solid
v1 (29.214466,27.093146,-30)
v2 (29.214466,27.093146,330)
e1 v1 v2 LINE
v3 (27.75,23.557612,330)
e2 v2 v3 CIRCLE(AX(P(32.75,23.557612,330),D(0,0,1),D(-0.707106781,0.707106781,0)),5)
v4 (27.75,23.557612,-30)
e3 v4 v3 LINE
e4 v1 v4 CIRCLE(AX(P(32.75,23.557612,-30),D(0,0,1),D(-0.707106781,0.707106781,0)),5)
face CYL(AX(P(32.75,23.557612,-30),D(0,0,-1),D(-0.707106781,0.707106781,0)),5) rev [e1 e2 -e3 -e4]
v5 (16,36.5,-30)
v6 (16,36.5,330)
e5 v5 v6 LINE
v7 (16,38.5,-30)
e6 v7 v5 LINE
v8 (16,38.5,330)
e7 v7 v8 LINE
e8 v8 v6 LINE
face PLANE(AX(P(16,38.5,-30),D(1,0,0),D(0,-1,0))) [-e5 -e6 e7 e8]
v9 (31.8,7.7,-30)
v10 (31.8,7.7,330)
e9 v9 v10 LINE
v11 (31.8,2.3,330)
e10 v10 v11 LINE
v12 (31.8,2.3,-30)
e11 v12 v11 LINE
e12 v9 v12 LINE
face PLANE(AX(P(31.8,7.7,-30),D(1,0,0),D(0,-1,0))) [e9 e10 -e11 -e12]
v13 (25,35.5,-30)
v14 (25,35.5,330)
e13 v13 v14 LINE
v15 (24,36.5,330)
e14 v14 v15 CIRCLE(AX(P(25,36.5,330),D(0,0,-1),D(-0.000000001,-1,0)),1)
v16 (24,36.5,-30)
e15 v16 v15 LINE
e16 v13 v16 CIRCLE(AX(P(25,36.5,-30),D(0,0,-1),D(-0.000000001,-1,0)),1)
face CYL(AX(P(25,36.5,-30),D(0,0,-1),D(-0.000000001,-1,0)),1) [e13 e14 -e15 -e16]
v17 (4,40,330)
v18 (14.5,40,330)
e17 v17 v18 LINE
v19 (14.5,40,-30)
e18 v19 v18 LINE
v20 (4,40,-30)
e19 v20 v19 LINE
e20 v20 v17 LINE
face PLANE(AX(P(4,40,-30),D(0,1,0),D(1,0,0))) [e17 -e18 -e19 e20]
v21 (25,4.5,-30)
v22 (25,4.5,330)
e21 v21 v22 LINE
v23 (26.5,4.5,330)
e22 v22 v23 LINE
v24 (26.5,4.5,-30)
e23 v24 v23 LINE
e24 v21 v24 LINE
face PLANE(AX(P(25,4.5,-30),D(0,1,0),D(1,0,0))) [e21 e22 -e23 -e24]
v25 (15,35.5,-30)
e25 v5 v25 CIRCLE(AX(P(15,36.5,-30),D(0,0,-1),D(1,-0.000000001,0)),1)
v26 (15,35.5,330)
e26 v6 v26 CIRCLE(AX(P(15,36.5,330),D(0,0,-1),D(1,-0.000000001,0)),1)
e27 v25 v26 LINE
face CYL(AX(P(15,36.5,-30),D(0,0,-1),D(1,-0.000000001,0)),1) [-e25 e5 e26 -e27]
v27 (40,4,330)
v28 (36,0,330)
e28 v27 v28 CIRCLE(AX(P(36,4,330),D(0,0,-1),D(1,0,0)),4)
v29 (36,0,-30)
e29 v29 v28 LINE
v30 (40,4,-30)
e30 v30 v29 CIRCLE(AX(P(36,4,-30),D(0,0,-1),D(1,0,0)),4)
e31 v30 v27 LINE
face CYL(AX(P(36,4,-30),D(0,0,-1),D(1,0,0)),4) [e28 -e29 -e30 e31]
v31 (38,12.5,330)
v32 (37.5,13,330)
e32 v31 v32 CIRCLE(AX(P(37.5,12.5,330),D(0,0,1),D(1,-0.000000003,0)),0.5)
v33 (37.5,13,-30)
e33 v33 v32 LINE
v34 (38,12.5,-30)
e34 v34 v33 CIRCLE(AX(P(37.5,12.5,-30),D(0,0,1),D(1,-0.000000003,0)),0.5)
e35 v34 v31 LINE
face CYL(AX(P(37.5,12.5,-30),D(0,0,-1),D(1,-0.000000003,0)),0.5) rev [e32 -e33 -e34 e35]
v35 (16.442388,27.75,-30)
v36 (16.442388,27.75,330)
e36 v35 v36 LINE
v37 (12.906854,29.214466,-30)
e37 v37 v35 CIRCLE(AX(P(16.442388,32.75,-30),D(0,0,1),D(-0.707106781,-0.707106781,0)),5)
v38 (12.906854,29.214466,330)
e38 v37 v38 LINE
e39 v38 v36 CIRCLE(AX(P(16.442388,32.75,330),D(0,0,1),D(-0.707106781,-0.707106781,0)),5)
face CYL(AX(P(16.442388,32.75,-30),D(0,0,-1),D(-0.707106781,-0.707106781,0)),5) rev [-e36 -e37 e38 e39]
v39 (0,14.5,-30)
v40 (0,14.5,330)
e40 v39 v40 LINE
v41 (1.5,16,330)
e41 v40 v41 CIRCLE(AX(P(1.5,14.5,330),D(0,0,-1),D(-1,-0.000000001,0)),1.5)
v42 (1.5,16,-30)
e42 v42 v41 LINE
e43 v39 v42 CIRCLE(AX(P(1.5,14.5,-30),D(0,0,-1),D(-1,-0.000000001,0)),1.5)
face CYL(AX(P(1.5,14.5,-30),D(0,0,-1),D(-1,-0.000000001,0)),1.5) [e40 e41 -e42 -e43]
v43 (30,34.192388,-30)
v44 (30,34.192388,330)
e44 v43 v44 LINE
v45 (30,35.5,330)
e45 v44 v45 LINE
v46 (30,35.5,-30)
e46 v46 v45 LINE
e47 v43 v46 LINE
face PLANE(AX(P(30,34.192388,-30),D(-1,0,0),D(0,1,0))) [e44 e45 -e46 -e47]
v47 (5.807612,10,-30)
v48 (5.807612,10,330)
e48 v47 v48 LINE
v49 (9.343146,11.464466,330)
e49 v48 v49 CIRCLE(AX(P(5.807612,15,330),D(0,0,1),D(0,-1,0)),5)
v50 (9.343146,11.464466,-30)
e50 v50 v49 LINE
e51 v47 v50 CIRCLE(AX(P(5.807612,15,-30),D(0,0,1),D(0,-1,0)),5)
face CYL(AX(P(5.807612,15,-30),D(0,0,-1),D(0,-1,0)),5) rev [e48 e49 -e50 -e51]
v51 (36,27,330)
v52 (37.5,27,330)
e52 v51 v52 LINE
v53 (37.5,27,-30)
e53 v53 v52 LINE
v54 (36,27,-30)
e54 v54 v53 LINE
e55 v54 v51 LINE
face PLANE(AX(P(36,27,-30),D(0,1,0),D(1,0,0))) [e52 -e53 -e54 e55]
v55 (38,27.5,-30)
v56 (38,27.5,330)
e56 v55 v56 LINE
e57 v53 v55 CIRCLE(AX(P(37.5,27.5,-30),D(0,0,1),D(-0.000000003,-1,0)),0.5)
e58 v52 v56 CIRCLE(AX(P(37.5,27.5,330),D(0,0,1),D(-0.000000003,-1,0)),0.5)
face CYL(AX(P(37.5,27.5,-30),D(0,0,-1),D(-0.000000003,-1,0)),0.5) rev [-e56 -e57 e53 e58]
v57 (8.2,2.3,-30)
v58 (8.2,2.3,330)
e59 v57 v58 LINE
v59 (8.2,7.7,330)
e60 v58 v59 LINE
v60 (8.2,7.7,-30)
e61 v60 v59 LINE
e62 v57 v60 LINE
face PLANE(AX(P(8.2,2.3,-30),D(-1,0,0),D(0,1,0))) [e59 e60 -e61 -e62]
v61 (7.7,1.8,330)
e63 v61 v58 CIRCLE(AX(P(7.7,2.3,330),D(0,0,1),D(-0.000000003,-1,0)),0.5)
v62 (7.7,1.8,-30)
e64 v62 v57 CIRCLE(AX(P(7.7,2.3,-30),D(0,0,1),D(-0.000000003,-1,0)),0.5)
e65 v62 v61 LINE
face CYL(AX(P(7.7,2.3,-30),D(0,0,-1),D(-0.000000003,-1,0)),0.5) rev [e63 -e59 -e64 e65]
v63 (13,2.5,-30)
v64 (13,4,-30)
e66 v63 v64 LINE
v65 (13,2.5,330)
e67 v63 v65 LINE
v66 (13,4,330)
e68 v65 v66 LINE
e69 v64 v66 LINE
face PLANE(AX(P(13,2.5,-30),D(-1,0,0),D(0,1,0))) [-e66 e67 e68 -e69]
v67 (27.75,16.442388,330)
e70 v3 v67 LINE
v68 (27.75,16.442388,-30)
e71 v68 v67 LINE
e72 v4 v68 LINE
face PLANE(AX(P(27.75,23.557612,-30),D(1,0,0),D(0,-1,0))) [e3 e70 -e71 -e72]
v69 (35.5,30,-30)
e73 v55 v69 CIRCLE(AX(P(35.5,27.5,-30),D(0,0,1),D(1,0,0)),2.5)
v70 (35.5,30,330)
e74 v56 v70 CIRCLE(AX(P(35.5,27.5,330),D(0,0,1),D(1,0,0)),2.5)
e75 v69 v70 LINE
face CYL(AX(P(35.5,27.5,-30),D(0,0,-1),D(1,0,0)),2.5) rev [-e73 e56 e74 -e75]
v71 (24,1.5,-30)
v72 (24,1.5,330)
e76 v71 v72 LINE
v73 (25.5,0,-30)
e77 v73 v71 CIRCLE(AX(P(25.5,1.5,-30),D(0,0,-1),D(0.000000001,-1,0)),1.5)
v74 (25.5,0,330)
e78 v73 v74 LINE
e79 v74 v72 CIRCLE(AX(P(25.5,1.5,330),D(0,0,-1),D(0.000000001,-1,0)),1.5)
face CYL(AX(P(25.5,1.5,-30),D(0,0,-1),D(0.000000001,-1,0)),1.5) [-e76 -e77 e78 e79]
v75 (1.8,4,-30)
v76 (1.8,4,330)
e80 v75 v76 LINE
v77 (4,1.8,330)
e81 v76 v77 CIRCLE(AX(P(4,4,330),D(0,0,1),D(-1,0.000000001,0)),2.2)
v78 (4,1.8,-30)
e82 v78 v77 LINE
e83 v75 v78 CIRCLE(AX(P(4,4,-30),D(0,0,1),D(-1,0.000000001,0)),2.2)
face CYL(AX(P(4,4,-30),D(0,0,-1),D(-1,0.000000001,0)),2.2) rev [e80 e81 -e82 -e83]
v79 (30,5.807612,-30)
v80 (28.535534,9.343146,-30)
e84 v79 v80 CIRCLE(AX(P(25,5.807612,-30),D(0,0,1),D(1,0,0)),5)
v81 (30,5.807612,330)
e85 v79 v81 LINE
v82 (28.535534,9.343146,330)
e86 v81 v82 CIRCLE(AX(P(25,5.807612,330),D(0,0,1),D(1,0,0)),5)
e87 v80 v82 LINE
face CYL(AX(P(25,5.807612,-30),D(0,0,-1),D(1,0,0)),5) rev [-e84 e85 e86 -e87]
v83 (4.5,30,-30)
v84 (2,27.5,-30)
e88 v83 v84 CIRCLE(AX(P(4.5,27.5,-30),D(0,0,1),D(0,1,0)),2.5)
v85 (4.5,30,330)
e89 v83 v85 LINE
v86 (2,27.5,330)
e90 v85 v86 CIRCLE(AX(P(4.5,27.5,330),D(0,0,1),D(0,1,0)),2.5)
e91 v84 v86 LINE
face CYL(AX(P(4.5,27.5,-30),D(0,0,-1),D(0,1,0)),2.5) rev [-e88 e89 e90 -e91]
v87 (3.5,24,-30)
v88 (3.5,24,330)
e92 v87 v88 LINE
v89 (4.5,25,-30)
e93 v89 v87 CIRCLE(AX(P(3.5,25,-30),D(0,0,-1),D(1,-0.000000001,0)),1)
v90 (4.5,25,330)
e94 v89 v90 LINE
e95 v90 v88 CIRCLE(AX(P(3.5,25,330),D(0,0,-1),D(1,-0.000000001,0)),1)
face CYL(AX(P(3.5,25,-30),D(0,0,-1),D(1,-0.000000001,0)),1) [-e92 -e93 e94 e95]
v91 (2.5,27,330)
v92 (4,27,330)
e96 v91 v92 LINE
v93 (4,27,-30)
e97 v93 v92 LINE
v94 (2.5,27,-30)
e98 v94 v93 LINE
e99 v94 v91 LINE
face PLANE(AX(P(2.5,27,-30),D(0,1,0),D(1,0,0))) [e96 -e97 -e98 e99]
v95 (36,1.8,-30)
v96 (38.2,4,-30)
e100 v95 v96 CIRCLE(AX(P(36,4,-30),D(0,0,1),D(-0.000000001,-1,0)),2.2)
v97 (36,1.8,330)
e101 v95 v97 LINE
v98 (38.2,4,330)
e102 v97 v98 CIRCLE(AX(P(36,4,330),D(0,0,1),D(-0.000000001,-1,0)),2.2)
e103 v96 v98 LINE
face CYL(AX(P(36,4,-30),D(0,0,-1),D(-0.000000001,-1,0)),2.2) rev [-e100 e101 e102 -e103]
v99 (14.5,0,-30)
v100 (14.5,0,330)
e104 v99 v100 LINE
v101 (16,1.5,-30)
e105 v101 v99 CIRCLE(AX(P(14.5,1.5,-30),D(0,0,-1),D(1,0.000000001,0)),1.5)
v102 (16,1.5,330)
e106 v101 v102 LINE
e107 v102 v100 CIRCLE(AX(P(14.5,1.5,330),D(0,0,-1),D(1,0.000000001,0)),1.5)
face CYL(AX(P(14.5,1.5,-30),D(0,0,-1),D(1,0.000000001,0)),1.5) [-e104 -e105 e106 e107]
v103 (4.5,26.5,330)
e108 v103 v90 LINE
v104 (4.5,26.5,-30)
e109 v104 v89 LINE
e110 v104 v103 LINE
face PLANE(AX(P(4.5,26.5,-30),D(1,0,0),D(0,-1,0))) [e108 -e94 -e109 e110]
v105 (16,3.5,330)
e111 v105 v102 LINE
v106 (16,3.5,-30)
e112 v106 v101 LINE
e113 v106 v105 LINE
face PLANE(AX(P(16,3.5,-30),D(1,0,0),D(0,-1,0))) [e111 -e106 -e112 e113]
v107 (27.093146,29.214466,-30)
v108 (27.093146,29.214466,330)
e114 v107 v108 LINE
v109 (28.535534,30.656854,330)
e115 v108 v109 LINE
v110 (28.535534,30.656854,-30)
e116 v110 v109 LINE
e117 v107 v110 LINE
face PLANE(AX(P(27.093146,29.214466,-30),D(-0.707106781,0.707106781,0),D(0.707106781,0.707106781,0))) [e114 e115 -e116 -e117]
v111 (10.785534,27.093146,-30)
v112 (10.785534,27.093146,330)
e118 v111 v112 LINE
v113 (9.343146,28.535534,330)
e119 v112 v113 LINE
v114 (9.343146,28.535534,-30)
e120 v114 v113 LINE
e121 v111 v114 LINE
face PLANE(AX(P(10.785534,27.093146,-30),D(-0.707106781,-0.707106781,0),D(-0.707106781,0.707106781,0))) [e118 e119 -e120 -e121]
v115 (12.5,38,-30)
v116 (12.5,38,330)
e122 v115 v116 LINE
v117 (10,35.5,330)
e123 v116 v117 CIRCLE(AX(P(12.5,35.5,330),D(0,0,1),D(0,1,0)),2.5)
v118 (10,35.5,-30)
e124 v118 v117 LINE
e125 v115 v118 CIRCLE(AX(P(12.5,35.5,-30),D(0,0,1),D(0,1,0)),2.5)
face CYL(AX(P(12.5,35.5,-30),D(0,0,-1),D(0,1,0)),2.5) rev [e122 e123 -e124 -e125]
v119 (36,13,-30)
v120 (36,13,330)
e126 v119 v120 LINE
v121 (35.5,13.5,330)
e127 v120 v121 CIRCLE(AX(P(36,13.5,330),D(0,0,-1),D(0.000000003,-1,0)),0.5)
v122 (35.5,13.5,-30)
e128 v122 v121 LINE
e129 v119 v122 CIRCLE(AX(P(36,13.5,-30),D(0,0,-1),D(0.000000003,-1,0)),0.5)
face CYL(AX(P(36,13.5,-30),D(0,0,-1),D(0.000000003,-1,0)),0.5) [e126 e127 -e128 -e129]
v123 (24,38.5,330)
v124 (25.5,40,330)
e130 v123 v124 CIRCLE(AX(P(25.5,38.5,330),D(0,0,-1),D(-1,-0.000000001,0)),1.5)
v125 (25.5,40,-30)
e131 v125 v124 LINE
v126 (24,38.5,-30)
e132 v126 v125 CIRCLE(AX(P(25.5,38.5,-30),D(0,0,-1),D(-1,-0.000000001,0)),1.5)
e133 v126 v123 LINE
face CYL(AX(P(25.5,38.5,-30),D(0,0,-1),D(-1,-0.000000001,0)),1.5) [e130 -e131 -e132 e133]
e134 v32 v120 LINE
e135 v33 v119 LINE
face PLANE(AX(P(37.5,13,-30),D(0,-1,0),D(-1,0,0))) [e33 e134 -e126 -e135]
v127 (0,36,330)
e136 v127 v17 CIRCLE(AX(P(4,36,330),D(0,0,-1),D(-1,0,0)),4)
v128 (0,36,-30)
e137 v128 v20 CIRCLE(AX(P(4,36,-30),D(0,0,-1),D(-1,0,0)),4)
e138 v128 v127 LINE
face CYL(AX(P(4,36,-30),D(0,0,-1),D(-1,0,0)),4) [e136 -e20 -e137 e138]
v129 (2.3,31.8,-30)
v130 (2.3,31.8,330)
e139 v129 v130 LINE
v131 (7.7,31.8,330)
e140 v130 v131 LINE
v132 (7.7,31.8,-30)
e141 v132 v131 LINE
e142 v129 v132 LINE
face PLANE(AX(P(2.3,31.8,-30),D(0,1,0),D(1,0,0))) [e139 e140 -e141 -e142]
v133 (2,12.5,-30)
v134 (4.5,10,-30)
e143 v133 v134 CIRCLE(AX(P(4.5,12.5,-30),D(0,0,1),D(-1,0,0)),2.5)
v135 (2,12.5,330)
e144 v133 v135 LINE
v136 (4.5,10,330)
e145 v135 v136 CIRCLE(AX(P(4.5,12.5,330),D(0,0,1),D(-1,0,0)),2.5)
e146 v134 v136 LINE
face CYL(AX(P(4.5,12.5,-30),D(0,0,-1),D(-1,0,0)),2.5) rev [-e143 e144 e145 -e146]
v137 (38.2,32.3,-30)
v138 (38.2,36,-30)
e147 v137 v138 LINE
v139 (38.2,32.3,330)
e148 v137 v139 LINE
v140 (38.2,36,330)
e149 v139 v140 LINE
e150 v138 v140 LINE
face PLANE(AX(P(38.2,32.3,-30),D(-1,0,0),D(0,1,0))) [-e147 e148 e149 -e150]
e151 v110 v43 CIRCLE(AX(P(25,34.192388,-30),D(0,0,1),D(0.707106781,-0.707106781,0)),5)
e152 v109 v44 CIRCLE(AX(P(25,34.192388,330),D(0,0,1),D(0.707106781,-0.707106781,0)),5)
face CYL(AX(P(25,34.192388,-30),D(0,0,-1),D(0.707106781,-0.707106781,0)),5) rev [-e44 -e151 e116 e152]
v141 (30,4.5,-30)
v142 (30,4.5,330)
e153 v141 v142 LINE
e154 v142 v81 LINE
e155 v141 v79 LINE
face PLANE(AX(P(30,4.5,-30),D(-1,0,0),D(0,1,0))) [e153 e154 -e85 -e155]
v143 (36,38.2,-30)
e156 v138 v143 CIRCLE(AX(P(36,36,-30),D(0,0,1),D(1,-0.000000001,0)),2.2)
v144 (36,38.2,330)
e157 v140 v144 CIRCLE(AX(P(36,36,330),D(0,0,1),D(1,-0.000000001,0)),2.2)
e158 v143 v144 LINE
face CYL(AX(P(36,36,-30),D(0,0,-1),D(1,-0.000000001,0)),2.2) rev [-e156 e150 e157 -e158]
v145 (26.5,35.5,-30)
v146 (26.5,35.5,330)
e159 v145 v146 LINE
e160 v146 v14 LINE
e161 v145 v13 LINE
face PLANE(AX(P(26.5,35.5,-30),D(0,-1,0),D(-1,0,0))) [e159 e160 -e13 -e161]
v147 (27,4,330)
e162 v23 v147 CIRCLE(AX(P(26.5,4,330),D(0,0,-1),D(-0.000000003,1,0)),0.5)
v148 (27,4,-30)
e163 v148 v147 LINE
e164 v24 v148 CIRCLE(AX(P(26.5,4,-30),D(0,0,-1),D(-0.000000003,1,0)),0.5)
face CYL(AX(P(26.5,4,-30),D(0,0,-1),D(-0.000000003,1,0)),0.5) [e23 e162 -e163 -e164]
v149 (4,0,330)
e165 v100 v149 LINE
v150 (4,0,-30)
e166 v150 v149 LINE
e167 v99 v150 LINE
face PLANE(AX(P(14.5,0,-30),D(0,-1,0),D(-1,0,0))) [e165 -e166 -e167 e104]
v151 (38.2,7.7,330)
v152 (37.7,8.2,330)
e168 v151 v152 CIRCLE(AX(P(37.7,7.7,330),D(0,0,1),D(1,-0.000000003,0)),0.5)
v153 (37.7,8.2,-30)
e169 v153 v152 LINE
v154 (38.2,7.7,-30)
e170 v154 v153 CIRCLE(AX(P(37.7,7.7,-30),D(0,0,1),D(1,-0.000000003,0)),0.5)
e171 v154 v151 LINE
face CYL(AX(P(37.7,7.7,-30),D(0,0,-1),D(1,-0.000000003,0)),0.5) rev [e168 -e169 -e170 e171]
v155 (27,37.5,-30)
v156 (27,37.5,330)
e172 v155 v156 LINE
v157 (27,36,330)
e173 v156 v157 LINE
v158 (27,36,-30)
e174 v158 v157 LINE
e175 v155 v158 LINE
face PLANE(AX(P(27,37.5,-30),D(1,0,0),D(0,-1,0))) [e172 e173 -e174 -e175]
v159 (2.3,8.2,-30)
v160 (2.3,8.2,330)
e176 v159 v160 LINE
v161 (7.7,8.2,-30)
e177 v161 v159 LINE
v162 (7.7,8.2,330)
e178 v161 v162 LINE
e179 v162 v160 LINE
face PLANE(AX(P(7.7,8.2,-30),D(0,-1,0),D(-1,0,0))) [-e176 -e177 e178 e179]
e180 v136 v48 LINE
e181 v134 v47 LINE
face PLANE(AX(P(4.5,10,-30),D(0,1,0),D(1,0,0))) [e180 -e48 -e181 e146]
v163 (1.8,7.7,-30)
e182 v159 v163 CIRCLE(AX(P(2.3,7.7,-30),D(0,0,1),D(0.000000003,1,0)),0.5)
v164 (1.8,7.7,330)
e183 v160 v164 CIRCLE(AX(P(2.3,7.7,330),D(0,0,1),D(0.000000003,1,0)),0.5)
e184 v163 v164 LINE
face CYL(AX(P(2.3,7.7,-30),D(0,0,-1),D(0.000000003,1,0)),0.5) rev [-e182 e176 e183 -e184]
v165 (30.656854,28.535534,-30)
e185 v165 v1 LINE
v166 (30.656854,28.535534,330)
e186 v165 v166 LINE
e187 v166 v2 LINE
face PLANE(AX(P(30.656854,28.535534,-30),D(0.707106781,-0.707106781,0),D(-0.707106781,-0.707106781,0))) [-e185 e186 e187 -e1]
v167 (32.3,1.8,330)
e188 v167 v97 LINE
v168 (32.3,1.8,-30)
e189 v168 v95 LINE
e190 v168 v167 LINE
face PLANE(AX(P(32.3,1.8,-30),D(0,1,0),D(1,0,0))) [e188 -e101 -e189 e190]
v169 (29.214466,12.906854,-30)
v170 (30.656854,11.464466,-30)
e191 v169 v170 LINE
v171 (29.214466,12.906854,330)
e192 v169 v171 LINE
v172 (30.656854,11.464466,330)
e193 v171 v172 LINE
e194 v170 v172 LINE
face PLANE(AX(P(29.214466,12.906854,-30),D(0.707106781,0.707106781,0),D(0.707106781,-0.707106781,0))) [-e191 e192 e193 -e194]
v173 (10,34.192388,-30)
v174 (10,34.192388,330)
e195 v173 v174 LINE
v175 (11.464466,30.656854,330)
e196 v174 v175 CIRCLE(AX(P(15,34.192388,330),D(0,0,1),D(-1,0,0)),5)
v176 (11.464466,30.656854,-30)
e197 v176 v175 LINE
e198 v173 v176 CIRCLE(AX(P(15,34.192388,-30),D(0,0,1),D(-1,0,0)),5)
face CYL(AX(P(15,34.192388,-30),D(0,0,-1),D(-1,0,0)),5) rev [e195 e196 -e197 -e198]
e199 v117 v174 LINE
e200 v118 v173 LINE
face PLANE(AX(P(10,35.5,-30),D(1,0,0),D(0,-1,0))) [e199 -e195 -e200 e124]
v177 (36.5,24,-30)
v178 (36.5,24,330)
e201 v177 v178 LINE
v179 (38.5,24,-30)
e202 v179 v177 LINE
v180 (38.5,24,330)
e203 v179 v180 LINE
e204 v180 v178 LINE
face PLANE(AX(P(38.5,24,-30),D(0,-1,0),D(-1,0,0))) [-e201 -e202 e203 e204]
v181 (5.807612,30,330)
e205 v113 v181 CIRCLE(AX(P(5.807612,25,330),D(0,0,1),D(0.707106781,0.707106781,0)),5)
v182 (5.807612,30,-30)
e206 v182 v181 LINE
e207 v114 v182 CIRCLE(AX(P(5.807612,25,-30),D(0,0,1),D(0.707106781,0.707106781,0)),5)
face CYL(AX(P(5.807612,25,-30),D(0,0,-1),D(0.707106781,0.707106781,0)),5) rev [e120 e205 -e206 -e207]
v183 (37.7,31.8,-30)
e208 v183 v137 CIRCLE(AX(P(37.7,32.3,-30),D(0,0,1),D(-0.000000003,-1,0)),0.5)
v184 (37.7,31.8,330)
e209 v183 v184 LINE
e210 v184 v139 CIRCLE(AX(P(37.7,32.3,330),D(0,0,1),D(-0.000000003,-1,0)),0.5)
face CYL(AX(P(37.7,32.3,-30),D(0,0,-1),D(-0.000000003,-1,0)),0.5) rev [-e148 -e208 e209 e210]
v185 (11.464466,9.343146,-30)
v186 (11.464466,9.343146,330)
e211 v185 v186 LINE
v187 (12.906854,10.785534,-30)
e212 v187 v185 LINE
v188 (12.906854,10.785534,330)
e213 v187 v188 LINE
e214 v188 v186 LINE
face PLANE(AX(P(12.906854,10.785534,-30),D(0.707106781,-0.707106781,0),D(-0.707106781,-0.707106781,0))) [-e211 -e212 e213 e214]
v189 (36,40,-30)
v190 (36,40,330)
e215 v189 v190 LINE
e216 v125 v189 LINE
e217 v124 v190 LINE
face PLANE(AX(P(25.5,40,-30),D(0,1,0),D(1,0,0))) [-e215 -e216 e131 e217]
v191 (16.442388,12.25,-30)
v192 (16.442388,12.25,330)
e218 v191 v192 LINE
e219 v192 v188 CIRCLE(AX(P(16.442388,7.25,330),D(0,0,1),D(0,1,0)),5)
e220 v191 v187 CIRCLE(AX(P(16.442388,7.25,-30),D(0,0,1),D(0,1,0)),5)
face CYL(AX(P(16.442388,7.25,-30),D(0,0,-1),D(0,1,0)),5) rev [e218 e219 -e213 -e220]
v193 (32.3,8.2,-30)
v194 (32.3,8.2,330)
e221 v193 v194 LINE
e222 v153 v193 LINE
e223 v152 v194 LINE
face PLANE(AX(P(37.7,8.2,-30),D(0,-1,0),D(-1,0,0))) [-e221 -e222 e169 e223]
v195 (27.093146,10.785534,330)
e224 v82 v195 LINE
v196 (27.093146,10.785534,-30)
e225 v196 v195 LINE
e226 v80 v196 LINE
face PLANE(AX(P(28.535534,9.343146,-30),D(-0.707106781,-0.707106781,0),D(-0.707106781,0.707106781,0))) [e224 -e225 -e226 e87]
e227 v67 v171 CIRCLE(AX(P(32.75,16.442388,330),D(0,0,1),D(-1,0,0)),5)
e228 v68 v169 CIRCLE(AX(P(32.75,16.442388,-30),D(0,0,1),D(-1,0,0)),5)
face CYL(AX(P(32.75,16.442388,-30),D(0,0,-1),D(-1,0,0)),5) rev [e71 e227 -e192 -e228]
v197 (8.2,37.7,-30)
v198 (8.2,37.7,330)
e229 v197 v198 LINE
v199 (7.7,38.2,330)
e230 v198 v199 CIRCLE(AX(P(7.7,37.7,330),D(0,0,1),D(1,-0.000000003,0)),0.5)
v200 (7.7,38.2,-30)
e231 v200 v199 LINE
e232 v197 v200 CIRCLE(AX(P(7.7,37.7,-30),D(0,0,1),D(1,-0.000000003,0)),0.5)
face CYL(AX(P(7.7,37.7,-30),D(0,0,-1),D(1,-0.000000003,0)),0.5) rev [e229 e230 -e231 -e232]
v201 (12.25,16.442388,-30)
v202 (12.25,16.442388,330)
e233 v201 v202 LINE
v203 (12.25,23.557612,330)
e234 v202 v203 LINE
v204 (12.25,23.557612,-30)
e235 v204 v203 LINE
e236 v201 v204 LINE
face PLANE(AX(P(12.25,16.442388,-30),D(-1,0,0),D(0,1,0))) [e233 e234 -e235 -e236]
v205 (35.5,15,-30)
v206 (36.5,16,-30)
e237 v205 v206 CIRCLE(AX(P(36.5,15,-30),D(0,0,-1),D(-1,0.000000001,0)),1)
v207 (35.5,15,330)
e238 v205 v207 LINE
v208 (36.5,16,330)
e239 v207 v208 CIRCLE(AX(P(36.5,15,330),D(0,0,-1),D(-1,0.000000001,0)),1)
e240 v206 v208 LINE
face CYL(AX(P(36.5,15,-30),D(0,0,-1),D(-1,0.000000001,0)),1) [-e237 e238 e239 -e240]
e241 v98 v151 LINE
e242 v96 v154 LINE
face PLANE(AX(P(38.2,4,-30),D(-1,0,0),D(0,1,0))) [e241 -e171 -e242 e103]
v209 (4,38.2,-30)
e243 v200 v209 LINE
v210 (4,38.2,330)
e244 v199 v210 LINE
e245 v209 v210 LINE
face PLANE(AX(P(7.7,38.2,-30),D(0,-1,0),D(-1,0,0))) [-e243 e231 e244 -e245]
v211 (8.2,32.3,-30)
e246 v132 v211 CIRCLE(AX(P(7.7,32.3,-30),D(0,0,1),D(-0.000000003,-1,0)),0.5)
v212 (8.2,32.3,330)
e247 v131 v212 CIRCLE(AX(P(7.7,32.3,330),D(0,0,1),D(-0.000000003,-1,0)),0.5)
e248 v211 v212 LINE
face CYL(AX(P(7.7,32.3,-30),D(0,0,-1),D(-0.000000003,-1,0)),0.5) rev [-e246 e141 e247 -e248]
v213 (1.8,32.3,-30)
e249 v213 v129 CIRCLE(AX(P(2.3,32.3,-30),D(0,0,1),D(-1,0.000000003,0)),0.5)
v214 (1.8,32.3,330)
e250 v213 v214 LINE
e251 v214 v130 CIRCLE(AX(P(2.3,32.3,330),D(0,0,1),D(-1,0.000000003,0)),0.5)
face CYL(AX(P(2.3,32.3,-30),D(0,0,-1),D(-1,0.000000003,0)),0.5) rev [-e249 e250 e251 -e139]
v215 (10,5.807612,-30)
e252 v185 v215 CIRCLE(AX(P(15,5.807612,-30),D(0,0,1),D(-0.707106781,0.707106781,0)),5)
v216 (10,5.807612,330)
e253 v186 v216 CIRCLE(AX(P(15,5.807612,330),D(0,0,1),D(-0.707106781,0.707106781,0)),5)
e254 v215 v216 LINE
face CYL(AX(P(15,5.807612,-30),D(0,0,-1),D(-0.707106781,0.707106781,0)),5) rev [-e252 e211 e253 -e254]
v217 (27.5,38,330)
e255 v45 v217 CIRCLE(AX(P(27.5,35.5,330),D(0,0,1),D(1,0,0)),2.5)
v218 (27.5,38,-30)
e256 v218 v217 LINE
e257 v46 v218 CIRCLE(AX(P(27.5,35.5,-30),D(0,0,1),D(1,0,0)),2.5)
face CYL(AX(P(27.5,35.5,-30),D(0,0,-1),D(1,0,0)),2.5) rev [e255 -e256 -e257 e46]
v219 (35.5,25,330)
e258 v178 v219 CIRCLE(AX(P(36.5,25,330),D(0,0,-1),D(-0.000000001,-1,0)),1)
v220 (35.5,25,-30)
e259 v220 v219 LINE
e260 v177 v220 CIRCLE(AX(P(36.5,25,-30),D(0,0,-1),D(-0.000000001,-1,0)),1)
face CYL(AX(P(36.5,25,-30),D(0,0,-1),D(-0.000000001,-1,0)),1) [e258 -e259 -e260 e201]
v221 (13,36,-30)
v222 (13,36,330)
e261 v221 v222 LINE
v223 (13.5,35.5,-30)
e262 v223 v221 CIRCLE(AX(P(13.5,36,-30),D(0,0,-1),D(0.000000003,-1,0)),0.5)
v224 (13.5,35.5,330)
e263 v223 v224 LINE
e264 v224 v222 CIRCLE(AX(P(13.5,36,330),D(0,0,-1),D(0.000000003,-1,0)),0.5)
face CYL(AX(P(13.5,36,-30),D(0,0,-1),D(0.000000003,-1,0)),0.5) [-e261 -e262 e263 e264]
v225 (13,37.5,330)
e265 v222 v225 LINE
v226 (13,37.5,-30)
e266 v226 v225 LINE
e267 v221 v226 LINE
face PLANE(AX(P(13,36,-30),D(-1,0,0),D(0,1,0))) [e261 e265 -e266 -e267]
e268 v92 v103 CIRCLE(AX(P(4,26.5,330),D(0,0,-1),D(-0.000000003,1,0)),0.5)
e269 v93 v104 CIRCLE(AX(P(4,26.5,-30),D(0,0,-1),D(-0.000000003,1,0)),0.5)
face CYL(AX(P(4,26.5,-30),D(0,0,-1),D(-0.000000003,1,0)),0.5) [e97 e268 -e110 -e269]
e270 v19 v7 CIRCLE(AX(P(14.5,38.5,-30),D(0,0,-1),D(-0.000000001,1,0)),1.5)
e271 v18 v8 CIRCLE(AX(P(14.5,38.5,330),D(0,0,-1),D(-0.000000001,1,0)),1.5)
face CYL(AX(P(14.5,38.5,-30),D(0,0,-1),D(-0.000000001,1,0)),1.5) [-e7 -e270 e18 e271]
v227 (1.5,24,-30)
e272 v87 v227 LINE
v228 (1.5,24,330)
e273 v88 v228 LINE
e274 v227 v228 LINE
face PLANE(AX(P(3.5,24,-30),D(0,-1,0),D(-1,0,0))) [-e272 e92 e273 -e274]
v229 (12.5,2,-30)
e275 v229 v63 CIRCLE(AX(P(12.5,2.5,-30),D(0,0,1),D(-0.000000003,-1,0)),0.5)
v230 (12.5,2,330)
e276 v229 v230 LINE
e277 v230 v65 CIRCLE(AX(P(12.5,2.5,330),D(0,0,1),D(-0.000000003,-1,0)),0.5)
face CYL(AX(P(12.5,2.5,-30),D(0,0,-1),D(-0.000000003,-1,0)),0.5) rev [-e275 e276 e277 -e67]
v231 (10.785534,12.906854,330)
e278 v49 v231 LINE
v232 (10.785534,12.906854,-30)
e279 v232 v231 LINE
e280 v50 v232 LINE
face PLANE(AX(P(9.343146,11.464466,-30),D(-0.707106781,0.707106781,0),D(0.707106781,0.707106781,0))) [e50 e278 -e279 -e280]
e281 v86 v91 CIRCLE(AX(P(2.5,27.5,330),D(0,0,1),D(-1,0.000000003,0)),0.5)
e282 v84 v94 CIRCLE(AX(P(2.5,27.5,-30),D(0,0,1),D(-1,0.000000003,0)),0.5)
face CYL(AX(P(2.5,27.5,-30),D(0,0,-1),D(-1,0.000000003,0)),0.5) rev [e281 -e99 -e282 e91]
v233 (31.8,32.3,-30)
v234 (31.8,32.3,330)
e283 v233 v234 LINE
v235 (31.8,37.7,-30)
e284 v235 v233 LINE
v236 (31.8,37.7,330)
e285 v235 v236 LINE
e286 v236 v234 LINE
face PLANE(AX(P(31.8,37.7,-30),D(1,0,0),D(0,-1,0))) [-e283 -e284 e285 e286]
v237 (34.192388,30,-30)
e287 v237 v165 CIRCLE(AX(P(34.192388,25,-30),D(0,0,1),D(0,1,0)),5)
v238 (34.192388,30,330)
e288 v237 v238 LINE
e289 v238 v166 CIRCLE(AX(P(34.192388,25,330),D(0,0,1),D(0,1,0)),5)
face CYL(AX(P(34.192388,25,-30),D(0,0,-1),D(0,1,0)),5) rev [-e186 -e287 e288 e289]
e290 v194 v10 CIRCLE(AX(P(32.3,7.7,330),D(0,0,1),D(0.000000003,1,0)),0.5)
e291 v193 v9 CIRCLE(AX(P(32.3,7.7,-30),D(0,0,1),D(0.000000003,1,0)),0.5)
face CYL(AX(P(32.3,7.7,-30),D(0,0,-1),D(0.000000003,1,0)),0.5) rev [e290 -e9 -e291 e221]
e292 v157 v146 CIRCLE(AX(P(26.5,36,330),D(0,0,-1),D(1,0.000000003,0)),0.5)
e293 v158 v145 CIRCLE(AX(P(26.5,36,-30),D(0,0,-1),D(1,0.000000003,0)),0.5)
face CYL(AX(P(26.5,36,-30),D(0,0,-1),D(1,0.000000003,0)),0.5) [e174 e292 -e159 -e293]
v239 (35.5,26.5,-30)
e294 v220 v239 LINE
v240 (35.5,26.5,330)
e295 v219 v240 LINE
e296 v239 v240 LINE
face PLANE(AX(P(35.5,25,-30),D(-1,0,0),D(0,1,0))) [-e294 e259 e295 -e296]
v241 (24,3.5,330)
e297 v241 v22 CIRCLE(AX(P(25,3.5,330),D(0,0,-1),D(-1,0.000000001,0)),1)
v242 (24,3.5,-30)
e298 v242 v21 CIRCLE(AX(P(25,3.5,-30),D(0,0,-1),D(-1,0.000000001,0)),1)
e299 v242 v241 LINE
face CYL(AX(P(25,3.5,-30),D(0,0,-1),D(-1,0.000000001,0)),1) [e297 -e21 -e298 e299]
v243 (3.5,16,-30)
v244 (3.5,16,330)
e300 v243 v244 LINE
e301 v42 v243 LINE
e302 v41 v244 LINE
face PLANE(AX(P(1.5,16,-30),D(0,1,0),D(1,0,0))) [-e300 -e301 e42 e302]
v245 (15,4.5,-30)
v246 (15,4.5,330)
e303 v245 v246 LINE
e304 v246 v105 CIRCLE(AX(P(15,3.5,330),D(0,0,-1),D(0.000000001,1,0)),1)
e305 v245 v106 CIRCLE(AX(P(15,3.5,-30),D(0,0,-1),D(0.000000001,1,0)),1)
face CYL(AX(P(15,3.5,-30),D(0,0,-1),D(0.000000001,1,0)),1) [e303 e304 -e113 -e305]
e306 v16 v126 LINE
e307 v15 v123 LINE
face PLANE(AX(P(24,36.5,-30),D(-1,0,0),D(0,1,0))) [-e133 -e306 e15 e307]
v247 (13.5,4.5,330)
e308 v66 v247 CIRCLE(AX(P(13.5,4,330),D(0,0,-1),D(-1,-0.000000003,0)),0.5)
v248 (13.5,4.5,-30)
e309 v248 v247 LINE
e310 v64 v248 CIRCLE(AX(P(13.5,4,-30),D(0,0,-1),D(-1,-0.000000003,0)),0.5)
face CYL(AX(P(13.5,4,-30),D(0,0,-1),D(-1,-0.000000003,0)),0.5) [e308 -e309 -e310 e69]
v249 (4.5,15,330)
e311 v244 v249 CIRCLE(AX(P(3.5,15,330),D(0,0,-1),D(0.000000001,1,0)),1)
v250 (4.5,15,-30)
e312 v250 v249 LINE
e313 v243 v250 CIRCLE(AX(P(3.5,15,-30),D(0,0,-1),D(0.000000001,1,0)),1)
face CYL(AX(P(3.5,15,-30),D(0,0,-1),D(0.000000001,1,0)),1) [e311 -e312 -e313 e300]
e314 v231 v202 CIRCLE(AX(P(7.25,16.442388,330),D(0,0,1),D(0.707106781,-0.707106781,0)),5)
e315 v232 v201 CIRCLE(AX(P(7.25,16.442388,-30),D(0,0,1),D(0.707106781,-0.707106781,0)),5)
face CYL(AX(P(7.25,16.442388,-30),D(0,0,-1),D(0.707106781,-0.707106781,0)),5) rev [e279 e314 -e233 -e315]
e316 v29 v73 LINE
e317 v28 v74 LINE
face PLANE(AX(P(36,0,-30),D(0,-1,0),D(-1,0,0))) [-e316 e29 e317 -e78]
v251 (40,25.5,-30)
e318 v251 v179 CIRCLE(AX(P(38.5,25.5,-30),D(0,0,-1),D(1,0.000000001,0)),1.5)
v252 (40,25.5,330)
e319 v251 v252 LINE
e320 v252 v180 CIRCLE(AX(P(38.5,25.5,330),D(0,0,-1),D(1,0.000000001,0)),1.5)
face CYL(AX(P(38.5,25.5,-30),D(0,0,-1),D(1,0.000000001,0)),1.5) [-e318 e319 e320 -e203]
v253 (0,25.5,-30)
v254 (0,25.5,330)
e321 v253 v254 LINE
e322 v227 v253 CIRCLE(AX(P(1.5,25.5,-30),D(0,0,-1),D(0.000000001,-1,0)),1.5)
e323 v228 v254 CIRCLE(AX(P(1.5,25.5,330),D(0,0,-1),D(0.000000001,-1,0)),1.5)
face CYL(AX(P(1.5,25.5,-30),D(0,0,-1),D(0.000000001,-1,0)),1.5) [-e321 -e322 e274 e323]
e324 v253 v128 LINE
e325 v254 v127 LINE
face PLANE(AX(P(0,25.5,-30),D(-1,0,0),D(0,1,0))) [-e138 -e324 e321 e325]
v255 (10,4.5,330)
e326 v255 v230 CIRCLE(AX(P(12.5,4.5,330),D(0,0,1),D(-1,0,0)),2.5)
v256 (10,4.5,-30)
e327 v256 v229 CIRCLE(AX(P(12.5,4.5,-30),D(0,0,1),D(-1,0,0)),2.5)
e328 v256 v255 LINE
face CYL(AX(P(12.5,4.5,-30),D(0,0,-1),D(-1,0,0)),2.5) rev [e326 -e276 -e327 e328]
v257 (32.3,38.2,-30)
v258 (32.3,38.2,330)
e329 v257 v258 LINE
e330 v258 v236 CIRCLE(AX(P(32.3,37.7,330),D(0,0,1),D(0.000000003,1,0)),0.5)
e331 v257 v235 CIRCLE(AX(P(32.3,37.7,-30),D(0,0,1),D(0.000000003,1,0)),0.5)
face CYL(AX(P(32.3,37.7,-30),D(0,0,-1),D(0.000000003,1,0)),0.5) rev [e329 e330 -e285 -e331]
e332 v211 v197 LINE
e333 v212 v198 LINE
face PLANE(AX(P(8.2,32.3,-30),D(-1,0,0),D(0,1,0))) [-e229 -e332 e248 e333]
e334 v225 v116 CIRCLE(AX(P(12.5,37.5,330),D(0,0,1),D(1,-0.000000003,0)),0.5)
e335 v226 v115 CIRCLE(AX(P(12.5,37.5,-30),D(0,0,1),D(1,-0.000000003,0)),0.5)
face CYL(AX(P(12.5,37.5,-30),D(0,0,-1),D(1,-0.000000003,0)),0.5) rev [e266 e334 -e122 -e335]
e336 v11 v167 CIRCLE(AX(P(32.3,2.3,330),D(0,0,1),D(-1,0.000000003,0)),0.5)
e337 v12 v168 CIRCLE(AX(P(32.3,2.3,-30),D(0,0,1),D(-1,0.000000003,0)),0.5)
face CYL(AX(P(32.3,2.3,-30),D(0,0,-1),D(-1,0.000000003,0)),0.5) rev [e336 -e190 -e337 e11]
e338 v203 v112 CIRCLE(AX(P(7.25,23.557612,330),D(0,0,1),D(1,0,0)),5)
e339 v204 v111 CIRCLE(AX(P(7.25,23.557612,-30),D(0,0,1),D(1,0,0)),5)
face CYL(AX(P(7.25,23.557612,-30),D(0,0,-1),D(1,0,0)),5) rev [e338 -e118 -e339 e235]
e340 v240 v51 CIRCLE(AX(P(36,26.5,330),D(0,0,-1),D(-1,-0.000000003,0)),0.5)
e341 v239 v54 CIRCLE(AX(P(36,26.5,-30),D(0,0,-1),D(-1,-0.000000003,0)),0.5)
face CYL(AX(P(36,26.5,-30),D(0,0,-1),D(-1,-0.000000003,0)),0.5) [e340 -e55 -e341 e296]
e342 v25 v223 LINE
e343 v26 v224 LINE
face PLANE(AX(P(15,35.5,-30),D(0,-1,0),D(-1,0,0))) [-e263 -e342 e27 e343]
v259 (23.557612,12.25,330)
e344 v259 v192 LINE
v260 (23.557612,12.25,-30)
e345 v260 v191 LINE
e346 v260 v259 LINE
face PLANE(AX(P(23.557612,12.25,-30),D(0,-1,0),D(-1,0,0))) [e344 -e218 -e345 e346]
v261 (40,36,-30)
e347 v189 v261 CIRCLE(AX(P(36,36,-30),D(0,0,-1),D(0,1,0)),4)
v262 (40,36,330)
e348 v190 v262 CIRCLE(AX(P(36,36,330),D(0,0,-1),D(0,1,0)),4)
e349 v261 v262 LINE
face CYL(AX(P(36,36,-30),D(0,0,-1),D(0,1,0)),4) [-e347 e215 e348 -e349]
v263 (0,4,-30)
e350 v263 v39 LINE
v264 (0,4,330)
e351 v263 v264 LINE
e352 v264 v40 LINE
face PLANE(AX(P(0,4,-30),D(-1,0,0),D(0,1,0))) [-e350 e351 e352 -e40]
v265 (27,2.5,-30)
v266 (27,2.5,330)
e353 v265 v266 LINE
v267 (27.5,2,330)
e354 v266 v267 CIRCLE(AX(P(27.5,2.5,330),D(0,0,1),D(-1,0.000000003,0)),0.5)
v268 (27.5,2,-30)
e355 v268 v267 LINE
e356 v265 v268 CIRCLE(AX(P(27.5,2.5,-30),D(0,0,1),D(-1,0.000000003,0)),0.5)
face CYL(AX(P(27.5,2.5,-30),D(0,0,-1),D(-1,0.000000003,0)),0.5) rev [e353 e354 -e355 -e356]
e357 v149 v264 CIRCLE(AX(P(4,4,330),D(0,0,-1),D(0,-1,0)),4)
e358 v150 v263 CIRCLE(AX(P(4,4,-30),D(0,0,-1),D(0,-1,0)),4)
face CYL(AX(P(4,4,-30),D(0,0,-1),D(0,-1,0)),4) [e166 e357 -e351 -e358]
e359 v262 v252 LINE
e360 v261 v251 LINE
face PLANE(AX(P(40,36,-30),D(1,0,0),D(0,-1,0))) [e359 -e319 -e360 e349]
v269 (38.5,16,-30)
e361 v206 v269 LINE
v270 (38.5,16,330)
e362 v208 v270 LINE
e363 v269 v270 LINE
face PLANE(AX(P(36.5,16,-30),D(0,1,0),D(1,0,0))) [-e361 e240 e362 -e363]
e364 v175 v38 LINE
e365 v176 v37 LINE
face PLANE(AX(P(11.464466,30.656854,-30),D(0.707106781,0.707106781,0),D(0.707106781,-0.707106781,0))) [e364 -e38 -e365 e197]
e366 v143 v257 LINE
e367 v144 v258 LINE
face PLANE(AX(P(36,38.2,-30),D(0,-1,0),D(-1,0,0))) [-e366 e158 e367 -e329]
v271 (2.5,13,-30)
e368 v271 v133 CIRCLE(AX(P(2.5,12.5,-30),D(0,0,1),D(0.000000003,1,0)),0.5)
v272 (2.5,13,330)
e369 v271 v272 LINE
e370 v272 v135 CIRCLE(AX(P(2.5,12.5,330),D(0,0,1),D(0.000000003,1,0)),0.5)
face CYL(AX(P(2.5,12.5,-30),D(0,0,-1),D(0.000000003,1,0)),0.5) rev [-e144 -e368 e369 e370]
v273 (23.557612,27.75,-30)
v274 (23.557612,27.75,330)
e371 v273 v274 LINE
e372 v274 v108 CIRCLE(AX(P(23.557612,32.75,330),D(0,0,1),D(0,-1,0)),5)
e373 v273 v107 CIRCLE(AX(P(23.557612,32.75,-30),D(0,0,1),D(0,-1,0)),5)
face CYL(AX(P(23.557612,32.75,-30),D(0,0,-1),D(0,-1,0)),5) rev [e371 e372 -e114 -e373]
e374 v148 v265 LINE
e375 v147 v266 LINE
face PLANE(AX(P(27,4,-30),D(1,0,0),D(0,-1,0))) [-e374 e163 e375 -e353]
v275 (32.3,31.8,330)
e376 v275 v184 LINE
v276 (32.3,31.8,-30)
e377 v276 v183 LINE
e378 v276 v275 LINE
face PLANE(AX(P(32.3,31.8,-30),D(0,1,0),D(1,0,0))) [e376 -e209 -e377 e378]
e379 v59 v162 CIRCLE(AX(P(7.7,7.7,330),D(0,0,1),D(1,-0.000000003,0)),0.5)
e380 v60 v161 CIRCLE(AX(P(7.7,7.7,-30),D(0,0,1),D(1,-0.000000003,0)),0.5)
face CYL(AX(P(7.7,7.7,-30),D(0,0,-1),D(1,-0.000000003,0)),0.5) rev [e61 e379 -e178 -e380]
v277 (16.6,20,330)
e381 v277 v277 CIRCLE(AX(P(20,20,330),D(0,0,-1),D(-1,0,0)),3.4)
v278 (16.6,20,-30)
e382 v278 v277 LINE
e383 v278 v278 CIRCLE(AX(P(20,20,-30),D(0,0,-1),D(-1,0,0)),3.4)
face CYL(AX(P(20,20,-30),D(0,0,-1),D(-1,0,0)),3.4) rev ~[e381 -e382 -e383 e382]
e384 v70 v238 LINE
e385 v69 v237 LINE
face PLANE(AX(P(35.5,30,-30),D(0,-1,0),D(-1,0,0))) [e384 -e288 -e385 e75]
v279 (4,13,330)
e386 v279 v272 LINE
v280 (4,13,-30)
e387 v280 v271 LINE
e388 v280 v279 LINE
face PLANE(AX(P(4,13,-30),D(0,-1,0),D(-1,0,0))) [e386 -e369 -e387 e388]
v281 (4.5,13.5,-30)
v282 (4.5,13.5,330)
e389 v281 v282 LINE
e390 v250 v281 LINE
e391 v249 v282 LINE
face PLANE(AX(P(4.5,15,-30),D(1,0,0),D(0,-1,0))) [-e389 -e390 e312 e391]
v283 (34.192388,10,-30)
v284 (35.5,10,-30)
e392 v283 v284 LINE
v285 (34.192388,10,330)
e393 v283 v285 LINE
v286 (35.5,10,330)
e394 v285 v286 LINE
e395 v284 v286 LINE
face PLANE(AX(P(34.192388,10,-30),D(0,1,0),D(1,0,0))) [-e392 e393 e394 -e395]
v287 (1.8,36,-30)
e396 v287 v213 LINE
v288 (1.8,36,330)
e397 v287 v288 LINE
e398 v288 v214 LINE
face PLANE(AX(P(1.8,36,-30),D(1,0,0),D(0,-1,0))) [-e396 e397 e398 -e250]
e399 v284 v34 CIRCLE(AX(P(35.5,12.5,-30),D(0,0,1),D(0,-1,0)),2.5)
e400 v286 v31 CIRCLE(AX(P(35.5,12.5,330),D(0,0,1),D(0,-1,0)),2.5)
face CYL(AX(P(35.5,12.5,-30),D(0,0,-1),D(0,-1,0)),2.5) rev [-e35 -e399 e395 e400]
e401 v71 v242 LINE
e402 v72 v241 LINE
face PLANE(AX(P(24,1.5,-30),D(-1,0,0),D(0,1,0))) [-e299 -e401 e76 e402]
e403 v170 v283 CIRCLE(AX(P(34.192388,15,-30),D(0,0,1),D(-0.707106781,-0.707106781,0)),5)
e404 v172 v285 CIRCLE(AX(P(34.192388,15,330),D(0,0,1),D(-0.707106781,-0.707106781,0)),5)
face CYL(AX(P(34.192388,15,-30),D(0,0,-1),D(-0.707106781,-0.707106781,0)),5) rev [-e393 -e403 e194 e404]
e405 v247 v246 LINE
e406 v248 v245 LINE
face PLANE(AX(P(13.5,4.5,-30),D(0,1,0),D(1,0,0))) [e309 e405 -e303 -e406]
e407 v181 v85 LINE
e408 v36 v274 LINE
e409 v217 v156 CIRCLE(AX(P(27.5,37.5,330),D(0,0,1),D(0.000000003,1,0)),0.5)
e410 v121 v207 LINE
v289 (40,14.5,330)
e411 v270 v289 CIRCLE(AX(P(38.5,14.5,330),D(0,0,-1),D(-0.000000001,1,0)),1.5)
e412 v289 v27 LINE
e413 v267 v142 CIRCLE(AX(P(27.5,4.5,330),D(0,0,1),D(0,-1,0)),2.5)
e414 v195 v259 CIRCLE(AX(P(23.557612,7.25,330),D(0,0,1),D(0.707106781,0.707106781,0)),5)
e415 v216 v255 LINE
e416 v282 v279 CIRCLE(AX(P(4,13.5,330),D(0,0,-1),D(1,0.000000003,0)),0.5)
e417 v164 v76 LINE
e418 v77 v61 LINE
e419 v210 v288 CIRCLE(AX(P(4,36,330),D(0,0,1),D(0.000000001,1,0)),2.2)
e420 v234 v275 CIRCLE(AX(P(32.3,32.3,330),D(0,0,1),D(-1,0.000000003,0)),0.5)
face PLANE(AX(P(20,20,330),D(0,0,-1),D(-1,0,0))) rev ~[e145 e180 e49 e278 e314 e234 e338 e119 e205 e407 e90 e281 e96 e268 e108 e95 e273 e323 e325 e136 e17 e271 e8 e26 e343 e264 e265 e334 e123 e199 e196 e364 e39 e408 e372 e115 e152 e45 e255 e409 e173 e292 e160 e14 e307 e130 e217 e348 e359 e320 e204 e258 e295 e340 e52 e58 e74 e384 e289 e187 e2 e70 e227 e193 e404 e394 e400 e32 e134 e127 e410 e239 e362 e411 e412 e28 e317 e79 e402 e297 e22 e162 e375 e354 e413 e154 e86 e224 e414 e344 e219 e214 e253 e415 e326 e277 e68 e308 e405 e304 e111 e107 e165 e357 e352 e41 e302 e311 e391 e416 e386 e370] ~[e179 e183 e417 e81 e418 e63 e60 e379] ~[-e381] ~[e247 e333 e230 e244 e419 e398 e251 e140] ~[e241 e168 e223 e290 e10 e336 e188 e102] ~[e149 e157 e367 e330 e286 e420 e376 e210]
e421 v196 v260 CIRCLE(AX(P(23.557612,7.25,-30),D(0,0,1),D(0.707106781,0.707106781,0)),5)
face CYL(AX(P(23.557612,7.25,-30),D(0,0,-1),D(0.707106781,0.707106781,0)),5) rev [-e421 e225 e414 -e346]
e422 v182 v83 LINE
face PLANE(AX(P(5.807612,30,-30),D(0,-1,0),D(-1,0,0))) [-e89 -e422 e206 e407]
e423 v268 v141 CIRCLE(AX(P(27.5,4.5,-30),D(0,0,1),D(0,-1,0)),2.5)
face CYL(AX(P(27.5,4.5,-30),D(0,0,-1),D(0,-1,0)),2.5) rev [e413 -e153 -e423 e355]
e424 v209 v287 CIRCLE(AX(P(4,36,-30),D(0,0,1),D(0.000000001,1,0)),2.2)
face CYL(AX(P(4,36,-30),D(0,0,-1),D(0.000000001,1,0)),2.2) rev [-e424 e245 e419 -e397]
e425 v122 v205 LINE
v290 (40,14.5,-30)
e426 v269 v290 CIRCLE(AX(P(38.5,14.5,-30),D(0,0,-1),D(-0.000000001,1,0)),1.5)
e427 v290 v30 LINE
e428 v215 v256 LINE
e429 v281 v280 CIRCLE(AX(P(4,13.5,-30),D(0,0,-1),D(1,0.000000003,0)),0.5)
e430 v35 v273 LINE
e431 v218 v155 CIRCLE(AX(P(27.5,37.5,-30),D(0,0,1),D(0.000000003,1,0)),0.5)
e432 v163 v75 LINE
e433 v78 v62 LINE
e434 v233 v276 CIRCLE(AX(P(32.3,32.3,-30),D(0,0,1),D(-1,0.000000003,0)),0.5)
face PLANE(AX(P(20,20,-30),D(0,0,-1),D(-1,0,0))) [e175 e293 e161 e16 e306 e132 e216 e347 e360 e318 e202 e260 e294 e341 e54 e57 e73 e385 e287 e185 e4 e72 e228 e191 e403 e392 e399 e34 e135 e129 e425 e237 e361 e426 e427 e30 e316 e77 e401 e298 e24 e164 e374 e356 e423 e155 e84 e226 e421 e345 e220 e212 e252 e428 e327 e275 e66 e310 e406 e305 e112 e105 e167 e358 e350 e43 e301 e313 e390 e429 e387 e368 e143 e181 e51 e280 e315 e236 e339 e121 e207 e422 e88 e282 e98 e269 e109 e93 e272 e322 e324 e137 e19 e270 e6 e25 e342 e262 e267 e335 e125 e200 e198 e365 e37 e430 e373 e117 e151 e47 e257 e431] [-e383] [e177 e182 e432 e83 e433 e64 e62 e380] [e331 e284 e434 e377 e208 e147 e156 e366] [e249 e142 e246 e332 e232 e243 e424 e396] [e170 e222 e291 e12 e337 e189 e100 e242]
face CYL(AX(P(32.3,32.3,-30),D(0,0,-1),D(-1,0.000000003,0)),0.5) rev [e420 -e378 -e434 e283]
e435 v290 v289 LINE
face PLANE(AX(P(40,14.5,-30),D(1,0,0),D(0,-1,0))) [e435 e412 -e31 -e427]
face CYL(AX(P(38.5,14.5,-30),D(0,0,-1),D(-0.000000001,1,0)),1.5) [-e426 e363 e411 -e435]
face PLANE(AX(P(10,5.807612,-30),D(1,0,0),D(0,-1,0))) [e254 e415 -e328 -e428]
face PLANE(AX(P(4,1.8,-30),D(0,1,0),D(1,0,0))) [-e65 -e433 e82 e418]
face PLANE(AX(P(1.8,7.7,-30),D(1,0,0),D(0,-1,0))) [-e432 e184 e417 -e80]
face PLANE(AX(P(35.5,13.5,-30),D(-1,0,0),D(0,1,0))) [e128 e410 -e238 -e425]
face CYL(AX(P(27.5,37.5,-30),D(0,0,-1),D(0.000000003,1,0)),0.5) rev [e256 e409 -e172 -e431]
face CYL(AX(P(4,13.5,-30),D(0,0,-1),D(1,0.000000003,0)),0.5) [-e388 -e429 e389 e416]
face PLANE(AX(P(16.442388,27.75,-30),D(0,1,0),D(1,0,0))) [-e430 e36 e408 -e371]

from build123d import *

# Parameters (mm, degrees)
ESQUISSE1_R        = 3.4
BOSS_EXTRU_1_DEPTH = 360


with BuildPart() as part:
    # Esquisse1 → Boss.-Extru.1 (new body)
    with BuildSketch(Plane(origin=(0, 0, -30), x_dir=(-1, 0, 0), z_dir=(0, 0, -1))):
        with BuildLine():
            Line((-4.5, 15), (-4.5, 13.5))
            ThreePointArc((-4.5, 13.5), (-4.353553391, 13.146446609), (-4, 13))
            Line((-4, 13), (-2.5, 13))
            ThreePointArc((-2.5, 13), (-2.146446609, 12.853553391), (-2, 12.5))
            ThreePointArc((-2, 12.5), (-2.732233047, 10.732233047), (-4.5, 10))
            Line((-4.5, 10), (-5.807611845, 10))
            ThreePointArc((-5.807611845, 10), (-7.721029006, 10.380602337), (-9.343145751, 11.464466094))
            Line((-9.343145751, 11.464466094), (-10.785533906, 12.906854249))
            ThreePointArc((-10.785533906, 12.906854249), (-11.869397663, 14.528970994), (-12.25, 16.442388155))
            Line((-12.25, 16.442388155), (-12.25, 23.557611845))
            ThreePointArc((-12.25, 23.557611845), (-11.869397663, 25.471029006), (-10.785533906, 27.093145751))
            Line((-10.785533906, 27.093145751), (-9.343145751, 28.535533906))
            ThreePointArc((-9.343145751, 28.535533906), (-7.721029006, 29.619397663), (-5.807611845, 30))
            Line((-5.807611845, 30), (-4.5, 30))
            ThreePointArc((-4.5, 30), (-2.732233047, 29.267766953), (-2, 27.5))
            ThreePointArc((-2, 27.5), (-2.146446609, 27.146446609), (-2.5, 27))
            Line((-2.5, 27), (-4, 27))
            ThreePointArc((-4, 27), (-4.353553391, 26.853553391), (-4.5, 26.5))
            Line((-4.5, 26.5), (-4.5, 25))
            ThreePointArc((-4.5, 25), (-4.207106781, 24.292893219), (-3.5, 24))
            Line((-3.5, 24), (-1.5, 24))
            ThreePointArc((-1.5, 24), (-0.439339828, 24.439339828), (0, 25.5))
            Line((0, 25.5), (0, 36))
            ThreePointArc((0, 36), (-1.171572875, 38.828427125), (-4, 40))
            Line((-4, 40), (-14.5, 40))
            ThreePointArc((-14.5, 40), (-15.560660172, 39.560660172), (-16, 38.5))
            Line((-16, 38.5), (-16, 36.5))
            ThreePointArc((-16, 36.5), (-15.707106781, 35.792893219), (-15, 35.5))
            Line((-15, 35.5), (-13.5, 35.5))
            ThreePointArc((-13.5, 35.5), (-13.146446609, 35.646446609), (-13, 36))
            Line((-13, 36), (-13, 37.5))
            ThreePointArc((-13, 37.5), (-12.853553391, 37.853553391), (-12.5, 38))
            ThreePointArc((-12.5, 38), (-10.732233047, 37.267766953), (-10, 35.5))
            Line((-10, 35.5), (-10, 34.192388155))
            ThreePointArc((-10, 34.192388155), (-10.380602337, 32.278970994), (-11.464466094, 30.656854249))
            Line((-11.464466094, 30.656854249), (-12.906854249, 29.214466094))
            ThreePointArc((-12.906854249, 29.214466094), (-14.528970994, 28.130602337), (-16.442388155, 27.75))
            Line((-16.442388155, 27.75), (-23.557611845, 27.75))
            ThreePointArc((-23.557611845, 27.75), (-25.471029006, 28.130602337), (-27.093145751, 29.214466094))
            Line((-27.093145751, 29.214466094), (-28.535533906, 30.656854249))
            ThreePointArc((-28.535533906, 30.656854249), (-29.619397663, 32.278970994), (-30, 34.192388155))
            Line((-30, 34.192388155), (-30, 35.5))
            ThreePointArc((-30, 35.5), (-29.267766953, 37.267766953), (-27.5, 38))
            ThreePointArc((-27.5, 38), (-27.146446609, 37.853553391), (-27, 37.5))
            Line((-27, 37.5), (-27, 36))
            ThreePointArc((-27, 36), (-26.853553391, 35.646446609), (-26.5, 35.5))
            Line((-26.5, 35.5), (-25, 35.5))
            ThreePointArc((-25, 35.5), (-24.292893219, 35.792893219), (-24, 36.5))
            Line((-24, 36.5), (-24, 38.5))
            ThreePointArc((-24, 38.5), (-24.439339828, 39.560660172), (-25.5, 40))
            Line((-25.5, 40), (-36, 40))
            ThreePointArc((-36, 40), (-38.828427125, 38.828427125), (-40, 36))
            Line((-40, 36), (-40, 25.5))
            ThreePointArc((-40, 25.5), (-39.560660172, 24.439339828), (-38.5, 24))
            Line((-38.5, 24), (-36.5, 24))
            ThreePointArc((-36.5, 24), (-35.792893219, 24.292893219), (-35.5, 25))
            Line((-35.5, 25), (-35.5, 26.5))
            ThreePointArc((-35.5, 26.5), (-35.646446609, 26.853553391), (-36, 27))
            Line((-36, 27), (-37.5, 27))
            ThreePointArc((-37.5, 27), (-37.853553391, 27.146446609), (-38, 27.5))
            ThreePointArc((-38, 27.5), (-37.267766953, 29.267766953), (-35.5, 30))
            Line((-35.5, 30), (-34.192388155, 30))
            ThreePointArc((-34.192388155, 30), (-32.278970994, 29.619397663), (-30.656854249, 28.535533906))
            Line((-30.656854249, 28.535533906), (-29.214466094, 27.093145751))
            ThreePointArc((-29.214466094, 27.093145751), (-28.130602337, 25.471029006), (-27.75, 23.557611845))
            Line((-27.75, 23.557611845), (-27.75, 16.442388155))
            ThreePointArc((-27.75, 16.442388155), (-28.130602337, 14.528970994), (-29.214466094, 12.906854249))
            Line((-29.214466094, 12.906854249), (-30.656854249, 11.464466094))
            ThreePointArc((-30.656854249, 11.464466094), (-32.278970994, 10.380602337), (-34.192388155, 10))
            Line((-34.192388155, 10), (-35.5, 10))
            ThreePointArc((-35.5, 10), (-37.267766953, 10.732233047), (-38, 12.5))
            ThreePointArc((-38, 12.5), (-37.853553391, 12.853553391), (-37.5, 13))
            Line((-37.5, 13), (-36, 13))
            ThreePointArc((-36, 13), (-35.646446609, 13.146446609), (-35.5, 13.5))
            Line((-35.5, 13.5), (-35.5, 15))
            ThreePointArc((-35.5, 15), (-35.792893219, 15.707106781), (-36.5, 16))
            Line((-36.5, 16), (-38.5, 16))
            ThreePointArc((-38.5, 16), (-39.560660172, 15.560660172), (-40, 14.5))
            Line((-40, 14.5), (-40, 4))
            ThreePointArc((-40, 4), (-38.828427125, 1.171572875), (-36, 0))
            Line((-36, 0), (-25.5, 0))
            ThreePointArc((-25.5, 0), (-24.439339828, 0.439339828), (-24, 1.5))
            Line((-24, 1.5), (-24, 3.5))
            ThreePointArc((-24, 3.5), (-24.292893219, 4.207106781), (-25, 4.5))
            Line((-25, 4.5), (-26.5, 4.5))
            ThreePointArc((-26.5, 4.5), (-26.853553391, 4.353553391), (-27, 4))
            Line((-27, 4), (-27, 2.5))
            ThreePointArc((-27, 2.5), (-27.146446609, 2.146446609), (-27.5, 2))
            ThreePointArc((-27.5, 2), (-29.267766953, 2.732233047), (-30, 4.5))
            Line((-30, 4.5), (-30, 5.807611845))
            ThreePointArc((-30, 5.807611845), (-29.619397663, 7.721029006), (-28.535533906, 9.343145751))
            Line((-28.535533906, 9.343145751), (-27.093145751, 10.785533906))
            ThreePointArc((-27.093145751, 10.785533906), (-25.471029006, 11.869397663), (-23.557611845, 12.25))
            Line((-23.557611845, 12.25), (-16.442388155, 12.25))
            ThreePointArc((-16.442388155, 12.25), (-14.528970994, 11.869397663), (-12.906854249, 10.785533906))
            Line((-12.906854249, 10.785533906), (-11.464466094, 9.343145751))
            ThreePointArc((-11.464466094, 9.343145751), (-10.380602337, 7.721029006), (-10, 5.807611845))
            Line((-10, 5.807611845), (-10, 4.5))
            ThreePointArc((-10, 4.5), (-10.732233047, 2.732233047), (-12.5, 2))
            ThreePointArc((-12.5, 2), (-12.853553391, 2.146446609), (-13, 2.5))
            Line((-13, 2.5), (-13, 4))
            ThreePointArc((-13, 4), (-13.146446609, 4.353553391), (-13.5, 4.5))
            Line((-13.5, 4.5), (-15, 4.5))
            ThreePointArc((-15, 4.5), (-15.707106781, 4.207106781), (-16, 3.5))
            Line((-16, 3.5), (-16, 1.5))
            ThreePointArc((-16, 1.5), (-15.560660172, 0.439339828), (-14.5, 0))
            Line((-14.5, 0), (-4, 0))
            ThreePointArc((-4, 0), (-1.171572875, 1.171572875), (0, 4))
            Line((0, 4), (0, 14.5))
            ThreePointArc((0, 14.5), (-0.439339828, 15.560660172), (-1.5, 16))
            Line((-1.5, 16), (-3.5, 16))
            ThreePointArc((-3.5, 16), (-4.207106781, 15.707106781), (-4.5, 15))
        make_face()
        with Locations((-20, 20)):
            Circle(ESQUISSE1_R, mode=Mode.SUBTRACT)
        with BuildLine():
            Line((-4, 1.8), (-7.7, 1.8))
            ThreePointArc((-7.7, 1.8), (-8.053553391, 1.946446609), (-8.2, 2.3))
            Line((-8.2, 2.3), (-8.2, 7.7))
            ThreePointArc((-8.2, 7.7), (-8.053553391, 8.053553391), (-7.7, 8.2))
            Line((-7.7, 8.2), (-2.3, 8.2))
            ThreePointArc((-2.3, 8.2), (-1.946446609, 8.053553391), (-1.8, 7.7))
            Line((-1.8, 7.7), (-1.8, 4))
            ThreePointArc((-1.8, 4), (-2.444365081, 2.444365081), (-4, 1.8))
        make_face(mode=Mode.SUBTRACT)
        with BuildLine():
            Line((-38.2, 4), (-38.2, 7.7))
            ThreePointArc((-38.2, 7.7), (-38.053553391, 8.053553391), (-37.7, 8.2))
            Line((-37.7, 8.2), (-32.3, 8.2))
            ThreePointArc((-32.3, 8.2), (-31.946446609, 8.053553391), (-31.8, 7.7))
            Line((-31.8, 7.7), (-31.8, 2.3))
            ThreePointArc((-31.8, 2.3), (-31.946446609, 1.946446609), (-32.3, 1.8))
            Line((-32.3, 1.8), (-36, 1.8))
            ThreePointArc((-36, 1.8), (-37.555634919, 2.444365081), (-38.2, 4))
        make_face(mode=Mode.SUBTRACT)
        with BuildLine():
            Line((-36, 38.2), (-32.3, 38.2))
            ThreePointArc((-32.3, 38.2), (-31.946446609, 38.053553391), (-31.8, 37.7))
            Line((-31.8, 37.7), (-31.8, 32.3))
            ThreePointArc((-31.8, 32.3), (-31.946446609, 31.946446609), (-32.3, 31.8))
            Line((-32.3, 31.8), (-37.7, 31.8))
            ThreePointArc((-37.7, 31.8), (-38.053553391, 31.946446609), (-38.2, 32.3))
            Line((-38.2, 32.3), (-38.2, 36))
            ThreePointArc((-38.2, 36), (-37.555634919, 37.555634919), (-36, 38.2))
        make_face(mode=Mode.SUBTRACT)
        with BuildLine():
            Line((-1.8, 36), (-1.8, 32.3))
            ThreePointArc((-1.8, 32.3), (-1.946446609, 31.946446609), (-2.3, 31.8))
            Line((-2.3, 31.8), (-7.7, 31.8))
            ThreePointArc((-7.7, 31.8), (-8.053553391, 31.946446609), (-8.2, 32.3))
            Line((-8.2, 32.3), (-8.2, 37.7))
            ThreePointArc((-8.2, 37.7), (-8.053553391, 38.053553391), (-7.7, 38.2))
            Line((-7.7, 38.2), (-4, 38.2))
            ThreePointArc((-4, 38.2), (-2.444365081, 37.555634919), (-1.8, 36))
        make_face(mode=Mode.SUBTRACT)
    extrude(amount=-BOSS_EXTRU_1_DEPTH)


solid = part.part
